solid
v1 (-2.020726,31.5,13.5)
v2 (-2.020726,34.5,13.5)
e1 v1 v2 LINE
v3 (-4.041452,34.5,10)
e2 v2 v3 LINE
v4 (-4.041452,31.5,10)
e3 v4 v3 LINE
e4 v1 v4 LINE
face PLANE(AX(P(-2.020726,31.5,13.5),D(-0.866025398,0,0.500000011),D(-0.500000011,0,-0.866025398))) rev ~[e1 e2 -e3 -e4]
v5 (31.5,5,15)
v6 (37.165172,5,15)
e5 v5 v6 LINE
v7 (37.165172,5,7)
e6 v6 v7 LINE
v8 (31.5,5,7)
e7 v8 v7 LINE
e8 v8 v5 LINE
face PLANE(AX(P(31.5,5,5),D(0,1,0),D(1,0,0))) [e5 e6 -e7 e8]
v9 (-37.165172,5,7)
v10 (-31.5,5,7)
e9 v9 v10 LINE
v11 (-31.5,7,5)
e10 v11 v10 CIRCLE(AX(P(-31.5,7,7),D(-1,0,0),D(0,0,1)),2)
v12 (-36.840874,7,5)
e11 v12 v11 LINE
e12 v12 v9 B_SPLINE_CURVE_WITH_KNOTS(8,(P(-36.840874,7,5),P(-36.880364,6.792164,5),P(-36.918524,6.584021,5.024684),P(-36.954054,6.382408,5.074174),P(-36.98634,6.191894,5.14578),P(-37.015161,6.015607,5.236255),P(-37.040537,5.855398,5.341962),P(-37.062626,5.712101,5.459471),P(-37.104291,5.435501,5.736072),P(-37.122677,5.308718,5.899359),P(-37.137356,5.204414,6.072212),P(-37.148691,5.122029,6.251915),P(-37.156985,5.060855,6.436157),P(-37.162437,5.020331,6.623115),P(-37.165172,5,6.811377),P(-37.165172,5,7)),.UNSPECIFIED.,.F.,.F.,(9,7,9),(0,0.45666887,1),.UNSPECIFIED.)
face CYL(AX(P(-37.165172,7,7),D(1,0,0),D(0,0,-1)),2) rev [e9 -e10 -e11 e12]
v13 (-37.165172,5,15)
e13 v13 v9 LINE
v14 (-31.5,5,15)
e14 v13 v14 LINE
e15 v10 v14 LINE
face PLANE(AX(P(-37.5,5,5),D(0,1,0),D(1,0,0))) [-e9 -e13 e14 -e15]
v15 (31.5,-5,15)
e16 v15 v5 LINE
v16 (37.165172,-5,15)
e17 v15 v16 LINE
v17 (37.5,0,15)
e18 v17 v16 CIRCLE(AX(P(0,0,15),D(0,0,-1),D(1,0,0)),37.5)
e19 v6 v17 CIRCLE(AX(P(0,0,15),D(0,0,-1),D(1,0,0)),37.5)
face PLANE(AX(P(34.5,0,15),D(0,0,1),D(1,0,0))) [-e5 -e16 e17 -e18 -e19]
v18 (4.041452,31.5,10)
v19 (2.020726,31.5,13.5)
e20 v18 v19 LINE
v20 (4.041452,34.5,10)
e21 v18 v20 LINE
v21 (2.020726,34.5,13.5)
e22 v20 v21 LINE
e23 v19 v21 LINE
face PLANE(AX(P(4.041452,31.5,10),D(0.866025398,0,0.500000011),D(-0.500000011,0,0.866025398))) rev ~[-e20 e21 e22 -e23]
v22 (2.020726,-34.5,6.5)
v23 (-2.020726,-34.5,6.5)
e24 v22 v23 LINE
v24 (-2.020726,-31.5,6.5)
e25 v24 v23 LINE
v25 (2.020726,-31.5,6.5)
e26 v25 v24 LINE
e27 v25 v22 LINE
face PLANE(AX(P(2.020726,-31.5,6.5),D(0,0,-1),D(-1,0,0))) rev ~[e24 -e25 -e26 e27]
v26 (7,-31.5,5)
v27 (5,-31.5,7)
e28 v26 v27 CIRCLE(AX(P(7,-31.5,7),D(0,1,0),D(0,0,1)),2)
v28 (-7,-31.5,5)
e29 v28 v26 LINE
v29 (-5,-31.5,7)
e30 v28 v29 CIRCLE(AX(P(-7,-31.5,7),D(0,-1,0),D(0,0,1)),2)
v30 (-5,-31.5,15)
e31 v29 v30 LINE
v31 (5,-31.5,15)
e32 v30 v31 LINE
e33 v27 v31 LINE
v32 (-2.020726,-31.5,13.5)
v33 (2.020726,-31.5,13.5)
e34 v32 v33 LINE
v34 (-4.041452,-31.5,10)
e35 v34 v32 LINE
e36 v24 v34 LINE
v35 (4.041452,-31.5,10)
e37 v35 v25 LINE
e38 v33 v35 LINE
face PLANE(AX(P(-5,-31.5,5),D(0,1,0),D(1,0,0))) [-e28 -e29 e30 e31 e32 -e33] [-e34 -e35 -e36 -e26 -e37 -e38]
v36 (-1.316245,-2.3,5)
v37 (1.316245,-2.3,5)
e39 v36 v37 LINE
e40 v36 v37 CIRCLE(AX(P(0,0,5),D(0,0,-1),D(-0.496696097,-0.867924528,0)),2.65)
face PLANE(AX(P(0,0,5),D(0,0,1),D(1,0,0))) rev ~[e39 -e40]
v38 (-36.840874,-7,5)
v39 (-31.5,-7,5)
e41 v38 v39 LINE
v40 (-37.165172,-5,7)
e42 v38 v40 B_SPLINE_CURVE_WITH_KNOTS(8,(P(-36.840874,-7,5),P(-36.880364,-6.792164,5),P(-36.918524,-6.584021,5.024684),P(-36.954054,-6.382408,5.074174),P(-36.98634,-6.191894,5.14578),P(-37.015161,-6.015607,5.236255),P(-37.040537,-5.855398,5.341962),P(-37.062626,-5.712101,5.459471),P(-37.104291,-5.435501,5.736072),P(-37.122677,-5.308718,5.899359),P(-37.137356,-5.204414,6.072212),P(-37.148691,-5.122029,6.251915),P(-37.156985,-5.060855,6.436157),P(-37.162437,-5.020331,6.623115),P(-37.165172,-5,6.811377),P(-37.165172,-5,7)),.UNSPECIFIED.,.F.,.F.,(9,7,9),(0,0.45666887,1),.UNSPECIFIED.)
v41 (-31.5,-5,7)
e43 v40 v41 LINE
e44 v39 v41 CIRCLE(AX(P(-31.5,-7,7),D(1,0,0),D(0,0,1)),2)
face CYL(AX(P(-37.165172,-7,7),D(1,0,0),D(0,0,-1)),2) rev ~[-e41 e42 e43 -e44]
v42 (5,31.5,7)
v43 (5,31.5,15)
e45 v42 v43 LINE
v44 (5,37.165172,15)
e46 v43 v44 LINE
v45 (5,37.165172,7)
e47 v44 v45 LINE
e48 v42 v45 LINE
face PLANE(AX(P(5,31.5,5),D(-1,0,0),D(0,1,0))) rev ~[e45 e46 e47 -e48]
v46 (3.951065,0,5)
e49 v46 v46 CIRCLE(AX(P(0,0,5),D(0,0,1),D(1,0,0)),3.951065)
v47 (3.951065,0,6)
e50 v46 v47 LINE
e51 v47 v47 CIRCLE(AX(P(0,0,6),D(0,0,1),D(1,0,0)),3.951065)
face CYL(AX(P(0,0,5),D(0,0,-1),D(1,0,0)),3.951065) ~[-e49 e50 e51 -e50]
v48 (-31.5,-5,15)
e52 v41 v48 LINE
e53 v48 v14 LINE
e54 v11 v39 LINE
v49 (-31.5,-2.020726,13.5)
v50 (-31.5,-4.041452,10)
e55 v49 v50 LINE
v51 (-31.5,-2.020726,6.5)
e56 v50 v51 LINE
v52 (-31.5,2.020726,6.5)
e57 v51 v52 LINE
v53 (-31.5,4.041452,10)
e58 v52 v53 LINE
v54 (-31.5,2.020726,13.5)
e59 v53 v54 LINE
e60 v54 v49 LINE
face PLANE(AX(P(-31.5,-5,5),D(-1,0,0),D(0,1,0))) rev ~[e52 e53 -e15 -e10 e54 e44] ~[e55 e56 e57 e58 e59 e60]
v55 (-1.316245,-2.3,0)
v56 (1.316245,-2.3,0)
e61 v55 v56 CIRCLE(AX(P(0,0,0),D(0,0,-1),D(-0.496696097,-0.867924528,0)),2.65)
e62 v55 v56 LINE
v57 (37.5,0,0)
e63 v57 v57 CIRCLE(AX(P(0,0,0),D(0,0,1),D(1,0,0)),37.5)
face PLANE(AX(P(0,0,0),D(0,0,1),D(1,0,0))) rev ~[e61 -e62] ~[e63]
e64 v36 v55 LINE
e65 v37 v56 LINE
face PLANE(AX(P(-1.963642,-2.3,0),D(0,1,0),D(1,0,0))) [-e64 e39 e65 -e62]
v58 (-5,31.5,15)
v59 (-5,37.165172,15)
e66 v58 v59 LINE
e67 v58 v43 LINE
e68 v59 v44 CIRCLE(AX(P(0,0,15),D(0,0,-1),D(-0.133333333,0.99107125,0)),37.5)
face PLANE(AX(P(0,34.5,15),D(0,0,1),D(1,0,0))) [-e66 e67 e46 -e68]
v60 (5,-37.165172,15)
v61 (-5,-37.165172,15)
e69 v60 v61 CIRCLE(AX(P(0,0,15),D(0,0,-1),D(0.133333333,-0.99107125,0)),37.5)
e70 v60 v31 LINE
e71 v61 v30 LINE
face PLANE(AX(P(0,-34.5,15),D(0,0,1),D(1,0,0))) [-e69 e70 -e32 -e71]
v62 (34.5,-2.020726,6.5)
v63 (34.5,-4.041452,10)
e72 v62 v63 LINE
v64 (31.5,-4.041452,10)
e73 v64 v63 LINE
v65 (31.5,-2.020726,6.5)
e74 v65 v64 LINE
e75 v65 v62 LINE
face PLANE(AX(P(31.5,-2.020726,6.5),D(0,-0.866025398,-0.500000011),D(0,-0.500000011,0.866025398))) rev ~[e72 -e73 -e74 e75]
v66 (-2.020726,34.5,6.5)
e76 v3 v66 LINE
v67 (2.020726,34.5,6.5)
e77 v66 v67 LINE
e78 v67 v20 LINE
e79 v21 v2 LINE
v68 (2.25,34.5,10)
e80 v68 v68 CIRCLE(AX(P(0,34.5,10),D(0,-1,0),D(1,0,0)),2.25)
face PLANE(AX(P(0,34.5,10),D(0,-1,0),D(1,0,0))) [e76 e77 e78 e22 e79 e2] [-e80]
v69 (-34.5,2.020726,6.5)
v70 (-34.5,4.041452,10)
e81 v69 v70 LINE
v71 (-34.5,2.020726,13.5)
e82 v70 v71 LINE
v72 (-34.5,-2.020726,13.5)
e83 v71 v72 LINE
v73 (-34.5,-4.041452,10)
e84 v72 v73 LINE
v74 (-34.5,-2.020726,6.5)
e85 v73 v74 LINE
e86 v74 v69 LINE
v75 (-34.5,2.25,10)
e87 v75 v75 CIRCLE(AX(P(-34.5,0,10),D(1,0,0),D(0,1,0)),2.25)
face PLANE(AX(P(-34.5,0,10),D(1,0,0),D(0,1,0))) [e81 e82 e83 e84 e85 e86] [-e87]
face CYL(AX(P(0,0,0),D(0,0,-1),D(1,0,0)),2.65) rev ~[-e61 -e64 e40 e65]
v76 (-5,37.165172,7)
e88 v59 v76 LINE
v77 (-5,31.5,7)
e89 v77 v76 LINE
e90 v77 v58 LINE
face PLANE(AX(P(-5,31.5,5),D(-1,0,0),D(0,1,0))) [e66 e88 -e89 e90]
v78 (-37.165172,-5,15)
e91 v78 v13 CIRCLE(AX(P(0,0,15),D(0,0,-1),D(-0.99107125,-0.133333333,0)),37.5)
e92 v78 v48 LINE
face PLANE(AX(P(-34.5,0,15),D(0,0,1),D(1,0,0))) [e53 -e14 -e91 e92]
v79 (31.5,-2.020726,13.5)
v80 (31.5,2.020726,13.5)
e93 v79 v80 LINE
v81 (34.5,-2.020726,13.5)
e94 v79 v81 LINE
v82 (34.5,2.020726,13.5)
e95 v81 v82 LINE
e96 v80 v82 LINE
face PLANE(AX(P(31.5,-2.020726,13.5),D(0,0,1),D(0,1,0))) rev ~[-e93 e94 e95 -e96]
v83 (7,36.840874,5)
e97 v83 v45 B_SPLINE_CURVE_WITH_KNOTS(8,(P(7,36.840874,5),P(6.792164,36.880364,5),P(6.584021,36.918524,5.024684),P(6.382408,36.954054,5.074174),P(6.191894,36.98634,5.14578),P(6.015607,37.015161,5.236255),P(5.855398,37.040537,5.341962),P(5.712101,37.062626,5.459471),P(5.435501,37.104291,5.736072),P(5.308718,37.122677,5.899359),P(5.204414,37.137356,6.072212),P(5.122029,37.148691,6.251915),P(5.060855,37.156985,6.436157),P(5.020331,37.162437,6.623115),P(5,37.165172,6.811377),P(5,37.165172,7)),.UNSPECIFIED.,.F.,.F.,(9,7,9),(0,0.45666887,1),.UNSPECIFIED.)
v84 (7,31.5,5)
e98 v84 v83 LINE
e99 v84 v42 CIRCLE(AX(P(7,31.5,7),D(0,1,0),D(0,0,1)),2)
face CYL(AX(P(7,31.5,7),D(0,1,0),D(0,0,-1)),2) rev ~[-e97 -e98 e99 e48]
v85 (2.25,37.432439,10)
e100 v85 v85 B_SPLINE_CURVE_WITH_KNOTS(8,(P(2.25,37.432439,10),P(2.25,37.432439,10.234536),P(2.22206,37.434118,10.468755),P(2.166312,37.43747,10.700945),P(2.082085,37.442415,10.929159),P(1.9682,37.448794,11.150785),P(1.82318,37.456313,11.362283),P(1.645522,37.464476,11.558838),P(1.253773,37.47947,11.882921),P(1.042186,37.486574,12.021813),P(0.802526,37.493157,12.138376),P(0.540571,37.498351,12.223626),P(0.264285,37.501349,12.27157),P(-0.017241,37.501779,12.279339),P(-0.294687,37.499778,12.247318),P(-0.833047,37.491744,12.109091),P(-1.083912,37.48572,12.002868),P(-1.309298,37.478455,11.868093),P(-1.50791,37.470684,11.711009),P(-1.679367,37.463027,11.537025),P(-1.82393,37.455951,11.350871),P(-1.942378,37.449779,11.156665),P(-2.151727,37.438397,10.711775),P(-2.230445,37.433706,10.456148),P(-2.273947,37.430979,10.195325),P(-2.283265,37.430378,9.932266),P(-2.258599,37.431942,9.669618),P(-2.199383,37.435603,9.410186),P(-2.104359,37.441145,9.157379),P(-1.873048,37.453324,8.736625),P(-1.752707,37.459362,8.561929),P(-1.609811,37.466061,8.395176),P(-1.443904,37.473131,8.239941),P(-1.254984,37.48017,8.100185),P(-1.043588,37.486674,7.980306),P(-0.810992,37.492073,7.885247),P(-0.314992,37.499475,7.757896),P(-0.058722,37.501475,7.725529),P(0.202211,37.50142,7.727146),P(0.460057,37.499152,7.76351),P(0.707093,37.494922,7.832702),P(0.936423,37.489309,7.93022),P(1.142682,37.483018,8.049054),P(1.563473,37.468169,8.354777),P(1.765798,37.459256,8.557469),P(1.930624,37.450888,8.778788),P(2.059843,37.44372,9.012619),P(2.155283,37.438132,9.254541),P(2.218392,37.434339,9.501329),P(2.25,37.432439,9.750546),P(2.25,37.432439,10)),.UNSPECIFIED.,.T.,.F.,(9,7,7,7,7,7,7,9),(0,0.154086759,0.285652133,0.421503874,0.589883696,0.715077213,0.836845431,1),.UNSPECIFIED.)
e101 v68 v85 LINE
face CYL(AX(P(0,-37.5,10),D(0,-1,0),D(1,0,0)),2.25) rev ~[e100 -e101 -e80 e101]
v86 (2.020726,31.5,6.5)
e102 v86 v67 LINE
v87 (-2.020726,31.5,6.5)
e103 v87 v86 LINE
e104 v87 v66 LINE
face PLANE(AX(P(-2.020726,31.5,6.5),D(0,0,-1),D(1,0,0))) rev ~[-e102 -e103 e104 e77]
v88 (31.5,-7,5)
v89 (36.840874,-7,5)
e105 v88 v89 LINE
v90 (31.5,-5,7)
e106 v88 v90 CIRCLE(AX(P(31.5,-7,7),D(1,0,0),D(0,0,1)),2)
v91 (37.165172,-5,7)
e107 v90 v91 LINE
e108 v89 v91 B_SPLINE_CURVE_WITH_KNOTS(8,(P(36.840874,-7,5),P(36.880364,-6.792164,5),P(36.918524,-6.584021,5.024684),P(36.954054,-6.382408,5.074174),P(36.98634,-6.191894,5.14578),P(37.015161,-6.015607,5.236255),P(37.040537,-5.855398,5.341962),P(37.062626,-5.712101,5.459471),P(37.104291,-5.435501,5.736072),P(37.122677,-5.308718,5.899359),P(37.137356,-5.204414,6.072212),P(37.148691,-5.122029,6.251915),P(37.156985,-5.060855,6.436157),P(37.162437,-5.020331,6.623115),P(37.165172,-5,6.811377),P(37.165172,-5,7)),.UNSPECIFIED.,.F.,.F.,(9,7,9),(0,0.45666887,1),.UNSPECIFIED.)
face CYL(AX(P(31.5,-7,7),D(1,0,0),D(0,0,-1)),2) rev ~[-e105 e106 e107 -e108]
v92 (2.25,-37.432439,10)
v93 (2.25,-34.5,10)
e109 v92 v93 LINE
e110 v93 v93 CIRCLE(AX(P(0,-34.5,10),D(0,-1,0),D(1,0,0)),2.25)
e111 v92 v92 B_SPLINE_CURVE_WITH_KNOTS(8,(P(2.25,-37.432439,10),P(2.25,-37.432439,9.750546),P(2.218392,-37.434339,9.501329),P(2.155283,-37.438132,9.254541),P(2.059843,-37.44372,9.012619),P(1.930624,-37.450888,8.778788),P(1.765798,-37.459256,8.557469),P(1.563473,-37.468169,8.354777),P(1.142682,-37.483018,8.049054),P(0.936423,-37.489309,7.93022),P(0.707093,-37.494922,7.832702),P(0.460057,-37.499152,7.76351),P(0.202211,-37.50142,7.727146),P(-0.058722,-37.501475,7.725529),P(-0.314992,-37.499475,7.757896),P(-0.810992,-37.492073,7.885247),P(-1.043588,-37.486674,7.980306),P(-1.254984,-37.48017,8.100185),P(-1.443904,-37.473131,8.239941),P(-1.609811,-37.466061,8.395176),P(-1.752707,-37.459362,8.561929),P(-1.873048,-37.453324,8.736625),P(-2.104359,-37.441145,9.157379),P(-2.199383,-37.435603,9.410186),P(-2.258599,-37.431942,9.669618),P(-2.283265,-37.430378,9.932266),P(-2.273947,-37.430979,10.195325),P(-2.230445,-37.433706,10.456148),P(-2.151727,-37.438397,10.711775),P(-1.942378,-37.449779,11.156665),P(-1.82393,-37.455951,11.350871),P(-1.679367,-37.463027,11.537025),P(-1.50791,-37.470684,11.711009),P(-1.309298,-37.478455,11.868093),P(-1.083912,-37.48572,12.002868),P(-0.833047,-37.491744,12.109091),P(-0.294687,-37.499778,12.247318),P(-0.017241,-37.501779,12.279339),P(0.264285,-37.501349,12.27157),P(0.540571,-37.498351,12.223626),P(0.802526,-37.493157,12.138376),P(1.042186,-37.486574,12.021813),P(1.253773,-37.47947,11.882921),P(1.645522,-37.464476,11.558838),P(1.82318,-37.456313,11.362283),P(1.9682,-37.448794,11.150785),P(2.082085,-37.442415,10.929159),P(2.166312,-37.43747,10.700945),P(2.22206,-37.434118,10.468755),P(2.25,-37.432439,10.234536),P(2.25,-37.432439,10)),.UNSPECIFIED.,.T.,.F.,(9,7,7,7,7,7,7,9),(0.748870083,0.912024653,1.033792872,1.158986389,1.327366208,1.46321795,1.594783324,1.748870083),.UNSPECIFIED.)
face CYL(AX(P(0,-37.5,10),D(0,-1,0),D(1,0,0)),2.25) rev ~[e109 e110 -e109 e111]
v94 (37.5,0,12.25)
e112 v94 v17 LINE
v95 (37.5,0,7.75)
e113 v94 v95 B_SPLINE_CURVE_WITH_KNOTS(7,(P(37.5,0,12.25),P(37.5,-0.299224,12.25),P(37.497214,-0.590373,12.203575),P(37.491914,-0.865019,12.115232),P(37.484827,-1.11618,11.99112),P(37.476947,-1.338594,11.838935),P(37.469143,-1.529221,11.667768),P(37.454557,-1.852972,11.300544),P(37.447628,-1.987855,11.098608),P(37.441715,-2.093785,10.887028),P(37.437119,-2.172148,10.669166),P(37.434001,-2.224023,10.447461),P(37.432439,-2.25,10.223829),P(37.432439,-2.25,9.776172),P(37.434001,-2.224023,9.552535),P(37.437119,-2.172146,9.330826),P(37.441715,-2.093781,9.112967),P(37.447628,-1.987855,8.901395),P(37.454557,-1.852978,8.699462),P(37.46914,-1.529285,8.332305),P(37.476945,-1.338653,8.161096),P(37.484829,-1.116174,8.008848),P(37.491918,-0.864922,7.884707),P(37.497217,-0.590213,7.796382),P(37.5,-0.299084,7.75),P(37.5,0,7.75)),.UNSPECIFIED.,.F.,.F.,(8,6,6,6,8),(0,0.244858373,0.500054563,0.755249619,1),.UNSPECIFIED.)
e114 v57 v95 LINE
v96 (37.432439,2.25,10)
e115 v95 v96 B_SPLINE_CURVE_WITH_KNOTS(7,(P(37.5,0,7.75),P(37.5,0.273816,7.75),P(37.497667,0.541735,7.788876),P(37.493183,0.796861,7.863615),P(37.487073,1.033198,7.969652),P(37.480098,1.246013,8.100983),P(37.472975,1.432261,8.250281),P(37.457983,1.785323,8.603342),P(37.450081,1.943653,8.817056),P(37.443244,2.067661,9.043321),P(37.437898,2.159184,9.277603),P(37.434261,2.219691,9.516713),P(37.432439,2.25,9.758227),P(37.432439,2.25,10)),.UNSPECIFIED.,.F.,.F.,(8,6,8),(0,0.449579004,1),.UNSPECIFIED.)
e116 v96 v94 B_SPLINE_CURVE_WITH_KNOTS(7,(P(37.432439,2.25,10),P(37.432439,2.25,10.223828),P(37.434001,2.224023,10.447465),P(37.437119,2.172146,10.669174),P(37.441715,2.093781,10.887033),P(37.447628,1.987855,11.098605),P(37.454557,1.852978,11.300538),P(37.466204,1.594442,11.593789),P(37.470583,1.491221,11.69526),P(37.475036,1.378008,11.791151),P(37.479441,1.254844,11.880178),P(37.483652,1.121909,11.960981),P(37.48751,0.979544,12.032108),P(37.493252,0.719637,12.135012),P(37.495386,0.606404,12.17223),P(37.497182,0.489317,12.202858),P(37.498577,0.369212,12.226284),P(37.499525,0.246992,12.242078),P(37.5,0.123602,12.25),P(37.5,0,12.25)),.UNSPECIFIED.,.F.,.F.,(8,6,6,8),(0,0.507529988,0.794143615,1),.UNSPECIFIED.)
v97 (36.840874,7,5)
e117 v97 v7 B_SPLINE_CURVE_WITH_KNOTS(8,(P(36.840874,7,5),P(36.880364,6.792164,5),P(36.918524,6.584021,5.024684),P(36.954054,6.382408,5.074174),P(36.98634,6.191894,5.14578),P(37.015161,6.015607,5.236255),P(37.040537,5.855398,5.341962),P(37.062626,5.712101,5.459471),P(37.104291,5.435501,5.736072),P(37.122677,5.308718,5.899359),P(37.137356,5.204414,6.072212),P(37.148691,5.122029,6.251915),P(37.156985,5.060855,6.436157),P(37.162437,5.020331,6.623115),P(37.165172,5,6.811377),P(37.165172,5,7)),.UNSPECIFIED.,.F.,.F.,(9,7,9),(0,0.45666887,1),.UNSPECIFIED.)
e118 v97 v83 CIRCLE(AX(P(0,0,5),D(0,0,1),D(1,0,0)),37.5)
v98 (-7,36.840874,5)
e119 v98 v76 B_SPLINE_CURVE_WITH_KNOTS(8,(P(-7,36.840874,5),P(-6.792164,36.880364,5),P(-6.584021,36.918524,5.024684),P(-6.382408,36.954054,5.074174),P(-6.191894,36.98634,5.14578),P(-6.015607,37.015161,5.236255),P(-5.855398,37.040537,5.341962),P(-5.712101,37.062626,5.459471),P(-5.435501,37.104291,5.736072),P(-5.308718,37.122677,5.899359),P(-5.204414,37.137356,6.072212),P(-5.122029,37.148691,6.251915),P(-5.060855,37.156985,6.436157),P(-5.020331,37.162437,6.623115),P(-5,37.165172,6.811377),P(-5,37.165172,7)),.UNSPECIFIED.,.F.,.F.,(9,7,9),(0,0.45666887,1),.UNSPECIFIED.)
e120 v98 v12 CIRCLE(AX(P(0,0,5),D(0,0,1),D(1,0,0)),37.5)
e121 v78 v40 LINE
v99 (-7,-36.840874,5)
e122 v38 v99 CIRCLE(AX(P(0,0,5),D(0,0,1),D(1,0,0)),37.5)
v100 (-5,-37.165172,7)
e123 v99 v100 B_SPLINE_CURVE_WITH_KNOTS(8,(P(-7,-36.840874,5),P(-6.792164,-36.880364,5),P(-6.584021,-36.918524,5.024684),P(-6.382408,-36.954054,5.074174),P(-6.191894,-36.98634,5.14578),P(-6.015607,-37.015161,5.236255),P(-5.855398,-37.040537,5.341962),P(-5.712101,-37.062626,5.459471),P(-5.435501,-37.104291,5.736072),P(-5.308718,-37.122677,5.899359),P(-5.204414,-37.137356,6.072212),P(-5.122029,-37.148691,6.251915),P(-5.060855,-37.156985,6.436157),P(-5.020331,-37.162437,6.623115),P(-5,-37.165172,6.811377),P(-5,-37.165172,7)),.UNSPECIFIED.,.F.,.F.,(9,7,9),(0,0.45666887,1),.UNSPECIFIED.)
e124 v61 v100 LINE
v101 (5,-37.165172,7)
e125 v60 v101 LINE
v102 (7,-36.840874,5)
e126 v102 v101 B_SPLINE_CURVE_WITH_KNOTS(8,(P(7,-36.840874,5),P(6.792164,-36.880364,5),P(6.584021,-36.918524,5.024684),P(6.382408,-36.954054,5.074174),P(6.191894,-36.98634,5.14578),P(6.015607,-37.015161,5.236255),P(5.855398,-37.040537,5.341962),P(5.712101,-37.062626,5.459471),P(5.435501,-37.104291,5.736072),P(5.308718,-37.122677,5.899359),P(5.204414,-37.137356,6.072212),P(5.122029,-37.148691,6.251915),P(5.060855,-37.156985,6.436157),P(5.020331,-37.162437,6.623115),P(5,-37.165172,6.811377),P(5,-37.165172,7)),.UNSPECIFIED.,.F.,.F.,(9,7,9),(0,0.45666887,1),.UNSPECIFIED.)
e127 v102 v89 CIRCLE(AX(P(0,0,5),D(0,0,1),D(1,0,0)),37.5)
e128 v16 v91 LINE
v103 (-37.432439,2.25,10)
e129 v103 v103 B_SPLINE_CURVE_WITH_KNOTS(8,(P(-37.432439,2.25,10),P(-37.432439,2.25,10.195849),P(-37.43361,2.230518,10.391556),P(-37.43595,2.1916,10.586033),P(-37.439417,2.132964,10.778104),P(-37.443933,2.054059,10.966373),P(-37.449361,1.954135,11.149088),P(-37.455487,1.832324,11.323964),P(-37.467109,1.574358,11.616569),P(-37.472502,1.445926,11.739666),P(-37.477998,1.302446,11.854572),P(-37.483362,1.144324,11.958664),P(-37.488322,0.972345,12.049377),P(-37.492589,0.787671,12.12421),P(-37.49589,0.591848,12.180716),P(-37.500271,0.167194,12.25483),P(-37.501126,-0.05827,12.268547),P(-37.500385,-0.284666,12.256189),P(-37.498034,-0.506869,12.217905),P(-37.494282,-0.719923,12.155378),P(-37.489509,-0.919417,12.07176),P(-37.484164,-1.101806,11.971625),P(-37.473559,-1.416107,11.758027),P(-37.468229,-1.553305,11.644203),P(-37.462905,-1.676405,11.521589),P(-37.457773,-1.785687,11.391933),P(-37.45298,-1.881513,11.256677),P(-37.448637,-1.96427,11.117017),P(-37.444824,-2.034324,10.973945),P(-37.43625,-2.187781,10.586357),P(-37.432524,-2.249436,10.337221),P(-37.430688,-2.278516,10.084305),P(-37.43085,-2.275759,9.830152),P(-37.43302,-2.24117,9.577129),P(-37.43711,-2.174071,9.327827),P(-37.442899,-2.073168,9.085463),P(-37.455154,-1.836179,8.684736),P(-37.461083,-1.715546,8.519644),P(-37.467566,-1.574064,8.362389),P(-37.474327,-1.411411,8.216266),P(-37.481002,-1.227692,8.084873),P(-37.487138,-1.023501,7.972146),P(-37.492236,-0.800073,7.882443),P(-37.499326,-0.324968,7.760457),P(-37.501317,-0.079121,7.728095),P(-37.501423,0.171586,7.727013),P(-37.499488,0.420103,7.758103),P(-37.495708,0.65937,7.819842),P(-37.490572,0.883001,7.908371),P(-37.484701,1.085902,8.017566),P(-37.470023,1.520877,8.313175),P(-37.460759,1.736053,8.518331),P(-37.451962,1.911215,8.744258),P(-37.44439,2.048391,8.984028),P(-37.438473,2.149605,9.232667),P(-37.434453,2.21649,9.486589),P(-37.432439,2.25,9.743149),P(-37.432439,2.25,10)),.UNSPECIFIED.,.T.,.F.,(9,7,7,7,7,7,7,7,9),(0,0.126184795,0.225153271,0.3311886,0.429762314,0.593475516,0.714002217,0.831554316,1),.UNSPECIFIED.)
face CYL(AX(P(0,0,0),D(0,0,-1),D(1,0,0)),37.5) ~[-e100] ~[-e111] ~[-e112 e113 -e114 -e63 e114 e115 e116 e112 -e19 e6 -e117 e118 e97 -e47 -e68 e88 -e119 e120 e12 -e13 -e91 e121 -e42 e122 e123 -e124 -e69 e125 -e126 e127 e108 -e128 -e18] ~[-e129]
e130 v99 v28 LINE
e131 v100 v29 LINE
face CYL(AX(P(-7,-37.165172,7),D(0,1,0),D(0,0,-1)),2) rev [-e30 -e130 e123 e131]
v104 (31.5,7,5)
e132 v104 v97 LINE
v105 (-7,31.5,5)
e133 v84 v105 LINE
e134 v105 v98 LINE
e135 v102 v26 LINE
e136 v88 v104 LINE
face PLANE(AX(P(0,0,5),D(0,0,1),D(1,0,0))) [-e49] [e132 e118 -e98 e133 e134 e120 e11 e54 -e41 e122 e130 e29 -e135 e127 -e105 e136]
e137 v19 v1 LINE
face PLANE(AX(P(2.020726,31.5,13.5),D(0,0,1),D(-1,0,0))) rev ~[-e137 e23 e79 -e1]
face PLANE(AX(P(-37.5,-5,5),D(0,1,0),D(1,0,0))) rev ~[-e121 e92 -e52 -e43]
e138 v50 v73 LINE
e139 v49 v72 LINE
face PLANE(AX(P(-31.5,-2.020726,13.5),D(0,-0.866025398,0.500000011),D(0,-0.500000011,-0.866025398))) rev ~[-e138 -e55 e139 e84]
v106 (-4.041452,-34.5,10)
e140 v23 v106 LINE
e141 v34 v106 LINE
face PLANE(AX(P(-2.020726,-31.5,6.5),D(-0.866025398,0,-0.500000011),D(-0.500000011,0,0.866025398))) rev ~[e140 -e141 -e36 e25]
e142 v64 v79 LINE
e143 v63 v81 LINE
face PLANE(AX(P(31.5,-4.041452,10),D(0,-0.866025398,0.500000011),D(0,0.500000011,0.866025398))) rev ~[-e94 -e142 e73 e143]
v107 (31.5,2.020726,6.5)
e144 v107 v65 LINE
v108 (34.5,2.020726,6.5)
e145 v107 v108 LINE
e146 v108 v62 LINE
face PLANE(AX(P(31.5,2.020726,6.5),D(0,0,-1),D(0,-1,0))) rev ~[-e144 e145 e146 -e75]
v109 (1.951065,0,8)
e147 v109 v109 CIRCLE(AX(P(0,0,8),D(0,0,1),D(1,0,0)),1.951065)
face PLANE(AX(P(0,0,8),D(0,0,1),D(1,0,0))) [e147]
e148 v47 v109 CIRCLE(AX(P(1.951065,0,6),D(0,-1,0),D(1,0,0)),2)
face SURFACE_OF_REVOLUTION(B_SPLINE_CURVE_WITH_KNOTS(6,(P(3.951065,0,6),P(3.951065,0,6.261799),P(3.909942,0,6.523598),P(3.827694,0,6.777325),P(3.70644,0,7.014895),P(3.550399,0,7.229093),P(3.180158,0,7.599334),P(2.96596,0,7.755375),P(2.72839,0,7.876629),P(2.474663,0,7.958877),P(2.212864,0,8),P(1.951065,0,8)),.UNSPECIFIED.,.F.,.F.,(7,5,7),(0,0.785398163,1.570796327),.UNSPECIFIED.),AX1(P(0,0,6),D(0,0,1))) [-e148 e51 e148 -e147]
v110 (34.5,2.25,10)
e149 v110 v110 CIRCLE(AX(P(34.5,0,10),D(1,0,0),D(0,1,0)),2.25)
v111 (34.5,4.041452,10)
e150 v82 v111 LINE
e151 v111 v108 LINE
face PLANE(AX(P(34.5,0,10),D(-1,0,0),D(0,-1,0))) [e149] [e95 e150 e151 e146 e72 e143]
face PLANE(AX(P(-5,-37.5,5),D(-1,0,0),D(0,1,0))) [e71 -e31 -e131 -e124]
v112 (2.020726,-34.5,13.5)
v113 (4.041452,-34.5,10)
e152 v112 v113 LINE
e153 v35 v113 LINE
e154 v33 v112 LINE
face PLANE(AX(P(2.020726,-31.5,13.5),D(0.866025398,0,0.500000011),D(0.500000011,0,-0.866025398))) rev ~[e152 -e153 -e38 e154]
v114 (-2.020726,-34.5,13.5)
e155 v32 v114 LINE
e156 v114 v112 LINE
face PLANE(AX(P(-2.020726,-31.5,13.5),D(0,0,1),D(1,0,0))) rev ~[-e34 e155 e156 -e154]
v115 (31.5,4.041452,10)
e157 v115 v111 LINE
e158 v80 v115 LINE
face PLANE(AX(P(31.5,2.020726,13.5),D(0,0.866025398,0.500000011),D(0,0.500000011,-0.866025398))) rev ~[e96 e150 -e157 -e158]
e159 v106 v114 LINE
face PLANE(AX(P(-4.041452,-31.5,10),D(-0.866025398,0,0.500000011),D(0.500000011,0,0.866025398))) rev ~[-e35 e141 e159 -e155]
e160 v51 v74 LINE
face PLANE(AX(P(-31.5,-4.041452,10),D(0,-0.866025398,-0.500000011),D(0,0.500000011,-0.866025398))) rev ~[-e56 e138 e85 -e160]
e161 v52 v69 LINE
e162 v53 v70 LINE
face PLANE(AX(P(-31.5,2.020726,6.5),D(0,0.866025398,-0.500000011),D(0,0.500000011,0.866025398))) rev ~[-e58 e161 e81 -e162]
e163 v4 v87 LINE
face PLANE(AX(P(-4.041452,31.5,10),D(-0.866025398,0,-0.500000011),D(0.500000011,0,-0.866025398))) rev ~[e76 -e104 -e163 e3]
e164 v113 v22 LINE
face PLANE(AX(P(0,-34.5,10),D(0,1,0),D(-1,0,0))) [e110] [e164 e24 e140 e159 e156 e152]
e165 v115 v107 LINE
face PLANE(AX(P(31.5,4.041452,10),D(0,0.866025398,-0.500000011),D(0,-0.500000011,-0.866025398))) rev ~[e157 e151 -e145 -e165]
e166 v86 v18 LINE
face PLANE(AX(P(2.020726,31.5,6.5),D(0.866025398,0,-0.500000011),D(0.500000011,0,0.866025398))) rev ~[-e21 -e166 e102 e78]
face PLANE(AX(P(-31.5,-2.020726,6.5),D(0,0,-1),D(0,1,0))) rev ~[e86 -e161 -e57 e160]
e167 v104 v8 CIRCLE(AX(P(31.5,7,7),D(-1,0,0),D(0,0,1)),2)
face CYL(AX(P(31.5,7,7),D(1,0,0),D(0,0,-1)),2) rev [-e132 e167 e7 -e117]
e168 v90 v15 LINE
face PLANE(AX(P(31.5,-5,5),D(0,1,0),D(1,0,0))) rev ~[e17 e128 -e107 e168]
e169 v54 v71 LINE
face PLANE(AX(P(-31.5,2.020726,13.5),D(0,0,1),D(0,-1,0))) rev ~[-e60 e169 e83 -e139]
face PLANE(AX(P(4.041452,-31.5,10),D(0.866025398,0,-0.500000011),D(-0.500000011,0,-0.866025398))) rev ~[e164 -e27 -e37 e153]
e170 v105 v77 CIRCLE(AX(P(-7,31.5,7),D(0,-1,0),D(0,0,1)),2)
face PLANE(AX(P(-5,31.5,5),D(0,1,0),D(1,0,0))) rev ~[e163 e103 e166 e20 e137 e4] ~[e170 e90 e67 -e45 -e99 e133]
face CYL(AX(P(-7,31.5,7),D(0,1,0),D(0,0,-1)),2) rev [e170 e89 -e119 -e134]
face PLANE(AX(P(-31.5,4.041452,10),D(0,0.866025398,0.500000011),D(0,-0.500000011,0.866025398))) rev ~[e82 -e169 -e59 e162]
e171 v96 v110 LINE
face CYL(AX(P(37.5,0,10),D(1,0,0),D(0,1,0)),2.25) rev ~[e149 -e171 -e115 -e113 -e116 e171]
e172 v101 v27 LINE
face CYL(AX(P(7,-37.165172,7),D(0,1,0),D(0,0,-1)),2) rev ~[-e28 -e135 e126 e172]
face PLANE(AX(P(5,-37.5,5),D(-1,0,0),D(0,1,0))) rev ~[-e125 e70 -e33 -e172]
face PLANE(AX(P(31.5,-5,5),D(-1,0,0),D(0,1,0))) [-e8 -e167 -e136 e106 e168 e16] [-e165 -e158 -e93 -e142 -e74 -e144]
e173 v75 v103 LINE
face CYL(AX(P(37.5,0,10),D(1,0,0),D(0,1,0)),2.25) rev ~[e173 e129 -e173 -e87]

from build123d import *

# Parameters (mm, degrees)
SKETCH_R        = 37.5
PAD_DEPTH       = 5
SKETCH001_W     = 10
SKETCH001_H     = 6
SKETCH001_W_2   = 6
SKETCH001_H_2   = 10
PAD001_DEPTH    = 10
POCKET_DEPTH    = 3
POCKET001_DEPTH = 3
POCKET002_DEPTH = 3
POCKET003_DEPTH = 3
SKETCH006_R     = 2.25
POCKET004_DEPTH = 75
SKETCH007_R     = 2.25
POCKET005_DEPTH = 75
SKETCH008_R     = 2.65
POCKET006_DEPTH = 5
SKETCH009_W     = 3.74627
SKETCH009_H     = 0.45
PAD002_DEPTH    = 5
SKETCH010_R     = 40
SKETCH010_R_2   = 37.5
POCKET007_DEPTH = 15
FILLET_R        = 2
SKETCH011_R     = 3.951065
PAD003_DEPTH    = 3
FILLET001_R     = 2


with BuildPart() as part:
    # Sketch → Pad (new body)
    with BuildSketch(Plane.XY):
        Circle(SKETCH_R)
    extrude(amount=PAD_DEPTH)

    # Sketch001 (on Face3 of Pad) → Pad001 (join)
    with BuildSketch(Plane.XY.offset(5)):
        with Locations((0, 34.5)):
            Rectangle(SKETCH001_W, SKETCH001_H)
        with Locations((0, -34.5)):
            Rectangle(SKETCH001_W, SKETCH001_H)
        with Locations((-34.5, 0)):
            Rectangle(SKETCH001_W_2, SKETCH001_H_2)
        with Locations((34.5, 0)):
            Rectangle(SKETCH001_W_2, SKETCH001_H_2)
    extrude(amount=PAD001_DEPTH)

    # Sketch002 (on Face20 of Pad001) → Pocket (cut)
    with BuildSketch(Plane.YZ.offset(-31.5)):
        Polygon((4.041452, 10), (2.020726, 13.5), (-2.020726, 13.5), (-4.041452, 10), (-2.020726, 6.5), (2.020726, 6.5), align=None)
    extrude(amount=-POCKET_DEPTH, mode=Mode.SUBTRACT)

    # Sketch003 (on Face23 of Pocket) → Pocket001 (cut)
    with BuildSketch(Plane.XZ.offset(-31.5)):
        Polygon((4.041452, 10), (2.020726, 13.5), (-2.020726, 13.5), (-4.041452, 10), (-2.020726, 6.5), (2.020726, 6.5), align=None)
    extrude(amount=-POCKET001_DEPTH, mode=Mode.SUBTRACT)

    # Sketch004 (on Face15 of Pocket001) → Pocket002 (cut)
    with BuildSketch(Plane(origin=(31.5, 0, 0), x_dir=(0, -1, 0), z_dir=(-1, 0, 0))):
        Polygon((4.041452, 10), (2.020726, 13.5), (-2.020726, 13.5), (-4.041452, 10), (-2.020726, 6.5), (2.020726, 6.5), align=None)
    extrude(amount=-POCKET002_DEPTH, mode=Mode.SUBTRACT)

    # Sketch005 (on Face17 of Pocket002) → Pocket003 (cut)
    with BuildSketch(Plane(origin=(0, -31.5, 0), x_dir=(-1, 0, 0), z_dir=(0, 1, 0))):
        Polygon((4.041452, 10), (2.020726, 13.5), (-2.020726, 13.5), (-4.041452, 10), (-2.020726, 6.5), (2.020726, 6.5), align=None)
    extrude(amount=-POCKET003_DEPTH, mode=Mode.SUBTRACT)

    # Sketch006 (on Face12 of Pocket003) → Pocket004 (cut)
    with BuildSketch(Plane.YZ.offset(37.5)):
        with Locations((0, 10)):
            Circle(SKETCH006_R)
    extrude(amount=-POCKET004_DEPTH, mode=Mode.SUBTRACT)

    # Sketch007 (on Face25 of Pocket004) → Pocket005 (cut)
    with BuildSketch(Plane.XZ.offset(37.5)):
        with Locations((0, 10)):
            Circle(SKETCH007_R)
    extrude(amount=-POCKET005_DEPTH, mode=Mode.SUBTRACT)

    # Sketch008 (on Face2 of Pocket005) → Pocket006 (cut)
    with BuildSketch(Plane(origin=(0, 0, 0), x_dir=(1, 0, 0), z_dir=(0, 0, -1))):
        Circle(SKETCH008_R)
    extrude(amount=-POCKET006_DEPTH, mode=Mode.SUBTRACT)

    # Sketch009 (on Face2 of Pocket006) → Pad002 (join)
    with BuildSketch(Plane(origin=(0, 0, 0), x_dir=(1, 0, 0), z_dir=(0, 0, -1))):
        with Locations((-0.090507, 2.525)):
            Rectangle(SKETCH009_W, SKETCH009_H)
    extrude(amount=-PAD002_DEPTH)

    # Sketch010 (on Face62 of Pad002) → Pocket007 (cut)
    with BuildSketch(Plane(origin=(0, 0, 0), x_dir=(1, 0, 0), z_dir=(0, 0, -1))):
        Circle(SKETCH010_R)
        Circle(SKETCH010_R_2, mode=Mode.SUBTRACT)
    extrude(amount=-POCKET007_DEPTH, mode=Mode.SUBTRACT)

    # Fillet
    fillet_edges = [part.edges().sort_by_distance(p)[0] for p in [
        (5, -34.332586, 5),
        (-5, -34.332586, 5),
        (-34.332586, -5, 5),
        (34.332586, -5, 5),
        (5, 34.332586, 5),
        (34.332586, 5, 5),
        (-34.332586, 5, 5),
        (-5, 34.332586, 5),
    ]]
    fillet(fillet_edges, radius=FILLET_R)

    # Sketch011 (on Face1 of Fillet) → Pad003 (join)
    with BuildSketch(Plane.XY.offset(5)):
        Circle(SKETCH011_R)
    extrude(amount=PAD003_DEPTH)

    # Fillet001
    fillet001_edges = [part.edges().sort_by_distance(p)[0] for p in [
        (-3.951065, 0, 8),
    ]]
    fillet(fillet001_edges, radius=FILLET001_R)


solid = part.part
